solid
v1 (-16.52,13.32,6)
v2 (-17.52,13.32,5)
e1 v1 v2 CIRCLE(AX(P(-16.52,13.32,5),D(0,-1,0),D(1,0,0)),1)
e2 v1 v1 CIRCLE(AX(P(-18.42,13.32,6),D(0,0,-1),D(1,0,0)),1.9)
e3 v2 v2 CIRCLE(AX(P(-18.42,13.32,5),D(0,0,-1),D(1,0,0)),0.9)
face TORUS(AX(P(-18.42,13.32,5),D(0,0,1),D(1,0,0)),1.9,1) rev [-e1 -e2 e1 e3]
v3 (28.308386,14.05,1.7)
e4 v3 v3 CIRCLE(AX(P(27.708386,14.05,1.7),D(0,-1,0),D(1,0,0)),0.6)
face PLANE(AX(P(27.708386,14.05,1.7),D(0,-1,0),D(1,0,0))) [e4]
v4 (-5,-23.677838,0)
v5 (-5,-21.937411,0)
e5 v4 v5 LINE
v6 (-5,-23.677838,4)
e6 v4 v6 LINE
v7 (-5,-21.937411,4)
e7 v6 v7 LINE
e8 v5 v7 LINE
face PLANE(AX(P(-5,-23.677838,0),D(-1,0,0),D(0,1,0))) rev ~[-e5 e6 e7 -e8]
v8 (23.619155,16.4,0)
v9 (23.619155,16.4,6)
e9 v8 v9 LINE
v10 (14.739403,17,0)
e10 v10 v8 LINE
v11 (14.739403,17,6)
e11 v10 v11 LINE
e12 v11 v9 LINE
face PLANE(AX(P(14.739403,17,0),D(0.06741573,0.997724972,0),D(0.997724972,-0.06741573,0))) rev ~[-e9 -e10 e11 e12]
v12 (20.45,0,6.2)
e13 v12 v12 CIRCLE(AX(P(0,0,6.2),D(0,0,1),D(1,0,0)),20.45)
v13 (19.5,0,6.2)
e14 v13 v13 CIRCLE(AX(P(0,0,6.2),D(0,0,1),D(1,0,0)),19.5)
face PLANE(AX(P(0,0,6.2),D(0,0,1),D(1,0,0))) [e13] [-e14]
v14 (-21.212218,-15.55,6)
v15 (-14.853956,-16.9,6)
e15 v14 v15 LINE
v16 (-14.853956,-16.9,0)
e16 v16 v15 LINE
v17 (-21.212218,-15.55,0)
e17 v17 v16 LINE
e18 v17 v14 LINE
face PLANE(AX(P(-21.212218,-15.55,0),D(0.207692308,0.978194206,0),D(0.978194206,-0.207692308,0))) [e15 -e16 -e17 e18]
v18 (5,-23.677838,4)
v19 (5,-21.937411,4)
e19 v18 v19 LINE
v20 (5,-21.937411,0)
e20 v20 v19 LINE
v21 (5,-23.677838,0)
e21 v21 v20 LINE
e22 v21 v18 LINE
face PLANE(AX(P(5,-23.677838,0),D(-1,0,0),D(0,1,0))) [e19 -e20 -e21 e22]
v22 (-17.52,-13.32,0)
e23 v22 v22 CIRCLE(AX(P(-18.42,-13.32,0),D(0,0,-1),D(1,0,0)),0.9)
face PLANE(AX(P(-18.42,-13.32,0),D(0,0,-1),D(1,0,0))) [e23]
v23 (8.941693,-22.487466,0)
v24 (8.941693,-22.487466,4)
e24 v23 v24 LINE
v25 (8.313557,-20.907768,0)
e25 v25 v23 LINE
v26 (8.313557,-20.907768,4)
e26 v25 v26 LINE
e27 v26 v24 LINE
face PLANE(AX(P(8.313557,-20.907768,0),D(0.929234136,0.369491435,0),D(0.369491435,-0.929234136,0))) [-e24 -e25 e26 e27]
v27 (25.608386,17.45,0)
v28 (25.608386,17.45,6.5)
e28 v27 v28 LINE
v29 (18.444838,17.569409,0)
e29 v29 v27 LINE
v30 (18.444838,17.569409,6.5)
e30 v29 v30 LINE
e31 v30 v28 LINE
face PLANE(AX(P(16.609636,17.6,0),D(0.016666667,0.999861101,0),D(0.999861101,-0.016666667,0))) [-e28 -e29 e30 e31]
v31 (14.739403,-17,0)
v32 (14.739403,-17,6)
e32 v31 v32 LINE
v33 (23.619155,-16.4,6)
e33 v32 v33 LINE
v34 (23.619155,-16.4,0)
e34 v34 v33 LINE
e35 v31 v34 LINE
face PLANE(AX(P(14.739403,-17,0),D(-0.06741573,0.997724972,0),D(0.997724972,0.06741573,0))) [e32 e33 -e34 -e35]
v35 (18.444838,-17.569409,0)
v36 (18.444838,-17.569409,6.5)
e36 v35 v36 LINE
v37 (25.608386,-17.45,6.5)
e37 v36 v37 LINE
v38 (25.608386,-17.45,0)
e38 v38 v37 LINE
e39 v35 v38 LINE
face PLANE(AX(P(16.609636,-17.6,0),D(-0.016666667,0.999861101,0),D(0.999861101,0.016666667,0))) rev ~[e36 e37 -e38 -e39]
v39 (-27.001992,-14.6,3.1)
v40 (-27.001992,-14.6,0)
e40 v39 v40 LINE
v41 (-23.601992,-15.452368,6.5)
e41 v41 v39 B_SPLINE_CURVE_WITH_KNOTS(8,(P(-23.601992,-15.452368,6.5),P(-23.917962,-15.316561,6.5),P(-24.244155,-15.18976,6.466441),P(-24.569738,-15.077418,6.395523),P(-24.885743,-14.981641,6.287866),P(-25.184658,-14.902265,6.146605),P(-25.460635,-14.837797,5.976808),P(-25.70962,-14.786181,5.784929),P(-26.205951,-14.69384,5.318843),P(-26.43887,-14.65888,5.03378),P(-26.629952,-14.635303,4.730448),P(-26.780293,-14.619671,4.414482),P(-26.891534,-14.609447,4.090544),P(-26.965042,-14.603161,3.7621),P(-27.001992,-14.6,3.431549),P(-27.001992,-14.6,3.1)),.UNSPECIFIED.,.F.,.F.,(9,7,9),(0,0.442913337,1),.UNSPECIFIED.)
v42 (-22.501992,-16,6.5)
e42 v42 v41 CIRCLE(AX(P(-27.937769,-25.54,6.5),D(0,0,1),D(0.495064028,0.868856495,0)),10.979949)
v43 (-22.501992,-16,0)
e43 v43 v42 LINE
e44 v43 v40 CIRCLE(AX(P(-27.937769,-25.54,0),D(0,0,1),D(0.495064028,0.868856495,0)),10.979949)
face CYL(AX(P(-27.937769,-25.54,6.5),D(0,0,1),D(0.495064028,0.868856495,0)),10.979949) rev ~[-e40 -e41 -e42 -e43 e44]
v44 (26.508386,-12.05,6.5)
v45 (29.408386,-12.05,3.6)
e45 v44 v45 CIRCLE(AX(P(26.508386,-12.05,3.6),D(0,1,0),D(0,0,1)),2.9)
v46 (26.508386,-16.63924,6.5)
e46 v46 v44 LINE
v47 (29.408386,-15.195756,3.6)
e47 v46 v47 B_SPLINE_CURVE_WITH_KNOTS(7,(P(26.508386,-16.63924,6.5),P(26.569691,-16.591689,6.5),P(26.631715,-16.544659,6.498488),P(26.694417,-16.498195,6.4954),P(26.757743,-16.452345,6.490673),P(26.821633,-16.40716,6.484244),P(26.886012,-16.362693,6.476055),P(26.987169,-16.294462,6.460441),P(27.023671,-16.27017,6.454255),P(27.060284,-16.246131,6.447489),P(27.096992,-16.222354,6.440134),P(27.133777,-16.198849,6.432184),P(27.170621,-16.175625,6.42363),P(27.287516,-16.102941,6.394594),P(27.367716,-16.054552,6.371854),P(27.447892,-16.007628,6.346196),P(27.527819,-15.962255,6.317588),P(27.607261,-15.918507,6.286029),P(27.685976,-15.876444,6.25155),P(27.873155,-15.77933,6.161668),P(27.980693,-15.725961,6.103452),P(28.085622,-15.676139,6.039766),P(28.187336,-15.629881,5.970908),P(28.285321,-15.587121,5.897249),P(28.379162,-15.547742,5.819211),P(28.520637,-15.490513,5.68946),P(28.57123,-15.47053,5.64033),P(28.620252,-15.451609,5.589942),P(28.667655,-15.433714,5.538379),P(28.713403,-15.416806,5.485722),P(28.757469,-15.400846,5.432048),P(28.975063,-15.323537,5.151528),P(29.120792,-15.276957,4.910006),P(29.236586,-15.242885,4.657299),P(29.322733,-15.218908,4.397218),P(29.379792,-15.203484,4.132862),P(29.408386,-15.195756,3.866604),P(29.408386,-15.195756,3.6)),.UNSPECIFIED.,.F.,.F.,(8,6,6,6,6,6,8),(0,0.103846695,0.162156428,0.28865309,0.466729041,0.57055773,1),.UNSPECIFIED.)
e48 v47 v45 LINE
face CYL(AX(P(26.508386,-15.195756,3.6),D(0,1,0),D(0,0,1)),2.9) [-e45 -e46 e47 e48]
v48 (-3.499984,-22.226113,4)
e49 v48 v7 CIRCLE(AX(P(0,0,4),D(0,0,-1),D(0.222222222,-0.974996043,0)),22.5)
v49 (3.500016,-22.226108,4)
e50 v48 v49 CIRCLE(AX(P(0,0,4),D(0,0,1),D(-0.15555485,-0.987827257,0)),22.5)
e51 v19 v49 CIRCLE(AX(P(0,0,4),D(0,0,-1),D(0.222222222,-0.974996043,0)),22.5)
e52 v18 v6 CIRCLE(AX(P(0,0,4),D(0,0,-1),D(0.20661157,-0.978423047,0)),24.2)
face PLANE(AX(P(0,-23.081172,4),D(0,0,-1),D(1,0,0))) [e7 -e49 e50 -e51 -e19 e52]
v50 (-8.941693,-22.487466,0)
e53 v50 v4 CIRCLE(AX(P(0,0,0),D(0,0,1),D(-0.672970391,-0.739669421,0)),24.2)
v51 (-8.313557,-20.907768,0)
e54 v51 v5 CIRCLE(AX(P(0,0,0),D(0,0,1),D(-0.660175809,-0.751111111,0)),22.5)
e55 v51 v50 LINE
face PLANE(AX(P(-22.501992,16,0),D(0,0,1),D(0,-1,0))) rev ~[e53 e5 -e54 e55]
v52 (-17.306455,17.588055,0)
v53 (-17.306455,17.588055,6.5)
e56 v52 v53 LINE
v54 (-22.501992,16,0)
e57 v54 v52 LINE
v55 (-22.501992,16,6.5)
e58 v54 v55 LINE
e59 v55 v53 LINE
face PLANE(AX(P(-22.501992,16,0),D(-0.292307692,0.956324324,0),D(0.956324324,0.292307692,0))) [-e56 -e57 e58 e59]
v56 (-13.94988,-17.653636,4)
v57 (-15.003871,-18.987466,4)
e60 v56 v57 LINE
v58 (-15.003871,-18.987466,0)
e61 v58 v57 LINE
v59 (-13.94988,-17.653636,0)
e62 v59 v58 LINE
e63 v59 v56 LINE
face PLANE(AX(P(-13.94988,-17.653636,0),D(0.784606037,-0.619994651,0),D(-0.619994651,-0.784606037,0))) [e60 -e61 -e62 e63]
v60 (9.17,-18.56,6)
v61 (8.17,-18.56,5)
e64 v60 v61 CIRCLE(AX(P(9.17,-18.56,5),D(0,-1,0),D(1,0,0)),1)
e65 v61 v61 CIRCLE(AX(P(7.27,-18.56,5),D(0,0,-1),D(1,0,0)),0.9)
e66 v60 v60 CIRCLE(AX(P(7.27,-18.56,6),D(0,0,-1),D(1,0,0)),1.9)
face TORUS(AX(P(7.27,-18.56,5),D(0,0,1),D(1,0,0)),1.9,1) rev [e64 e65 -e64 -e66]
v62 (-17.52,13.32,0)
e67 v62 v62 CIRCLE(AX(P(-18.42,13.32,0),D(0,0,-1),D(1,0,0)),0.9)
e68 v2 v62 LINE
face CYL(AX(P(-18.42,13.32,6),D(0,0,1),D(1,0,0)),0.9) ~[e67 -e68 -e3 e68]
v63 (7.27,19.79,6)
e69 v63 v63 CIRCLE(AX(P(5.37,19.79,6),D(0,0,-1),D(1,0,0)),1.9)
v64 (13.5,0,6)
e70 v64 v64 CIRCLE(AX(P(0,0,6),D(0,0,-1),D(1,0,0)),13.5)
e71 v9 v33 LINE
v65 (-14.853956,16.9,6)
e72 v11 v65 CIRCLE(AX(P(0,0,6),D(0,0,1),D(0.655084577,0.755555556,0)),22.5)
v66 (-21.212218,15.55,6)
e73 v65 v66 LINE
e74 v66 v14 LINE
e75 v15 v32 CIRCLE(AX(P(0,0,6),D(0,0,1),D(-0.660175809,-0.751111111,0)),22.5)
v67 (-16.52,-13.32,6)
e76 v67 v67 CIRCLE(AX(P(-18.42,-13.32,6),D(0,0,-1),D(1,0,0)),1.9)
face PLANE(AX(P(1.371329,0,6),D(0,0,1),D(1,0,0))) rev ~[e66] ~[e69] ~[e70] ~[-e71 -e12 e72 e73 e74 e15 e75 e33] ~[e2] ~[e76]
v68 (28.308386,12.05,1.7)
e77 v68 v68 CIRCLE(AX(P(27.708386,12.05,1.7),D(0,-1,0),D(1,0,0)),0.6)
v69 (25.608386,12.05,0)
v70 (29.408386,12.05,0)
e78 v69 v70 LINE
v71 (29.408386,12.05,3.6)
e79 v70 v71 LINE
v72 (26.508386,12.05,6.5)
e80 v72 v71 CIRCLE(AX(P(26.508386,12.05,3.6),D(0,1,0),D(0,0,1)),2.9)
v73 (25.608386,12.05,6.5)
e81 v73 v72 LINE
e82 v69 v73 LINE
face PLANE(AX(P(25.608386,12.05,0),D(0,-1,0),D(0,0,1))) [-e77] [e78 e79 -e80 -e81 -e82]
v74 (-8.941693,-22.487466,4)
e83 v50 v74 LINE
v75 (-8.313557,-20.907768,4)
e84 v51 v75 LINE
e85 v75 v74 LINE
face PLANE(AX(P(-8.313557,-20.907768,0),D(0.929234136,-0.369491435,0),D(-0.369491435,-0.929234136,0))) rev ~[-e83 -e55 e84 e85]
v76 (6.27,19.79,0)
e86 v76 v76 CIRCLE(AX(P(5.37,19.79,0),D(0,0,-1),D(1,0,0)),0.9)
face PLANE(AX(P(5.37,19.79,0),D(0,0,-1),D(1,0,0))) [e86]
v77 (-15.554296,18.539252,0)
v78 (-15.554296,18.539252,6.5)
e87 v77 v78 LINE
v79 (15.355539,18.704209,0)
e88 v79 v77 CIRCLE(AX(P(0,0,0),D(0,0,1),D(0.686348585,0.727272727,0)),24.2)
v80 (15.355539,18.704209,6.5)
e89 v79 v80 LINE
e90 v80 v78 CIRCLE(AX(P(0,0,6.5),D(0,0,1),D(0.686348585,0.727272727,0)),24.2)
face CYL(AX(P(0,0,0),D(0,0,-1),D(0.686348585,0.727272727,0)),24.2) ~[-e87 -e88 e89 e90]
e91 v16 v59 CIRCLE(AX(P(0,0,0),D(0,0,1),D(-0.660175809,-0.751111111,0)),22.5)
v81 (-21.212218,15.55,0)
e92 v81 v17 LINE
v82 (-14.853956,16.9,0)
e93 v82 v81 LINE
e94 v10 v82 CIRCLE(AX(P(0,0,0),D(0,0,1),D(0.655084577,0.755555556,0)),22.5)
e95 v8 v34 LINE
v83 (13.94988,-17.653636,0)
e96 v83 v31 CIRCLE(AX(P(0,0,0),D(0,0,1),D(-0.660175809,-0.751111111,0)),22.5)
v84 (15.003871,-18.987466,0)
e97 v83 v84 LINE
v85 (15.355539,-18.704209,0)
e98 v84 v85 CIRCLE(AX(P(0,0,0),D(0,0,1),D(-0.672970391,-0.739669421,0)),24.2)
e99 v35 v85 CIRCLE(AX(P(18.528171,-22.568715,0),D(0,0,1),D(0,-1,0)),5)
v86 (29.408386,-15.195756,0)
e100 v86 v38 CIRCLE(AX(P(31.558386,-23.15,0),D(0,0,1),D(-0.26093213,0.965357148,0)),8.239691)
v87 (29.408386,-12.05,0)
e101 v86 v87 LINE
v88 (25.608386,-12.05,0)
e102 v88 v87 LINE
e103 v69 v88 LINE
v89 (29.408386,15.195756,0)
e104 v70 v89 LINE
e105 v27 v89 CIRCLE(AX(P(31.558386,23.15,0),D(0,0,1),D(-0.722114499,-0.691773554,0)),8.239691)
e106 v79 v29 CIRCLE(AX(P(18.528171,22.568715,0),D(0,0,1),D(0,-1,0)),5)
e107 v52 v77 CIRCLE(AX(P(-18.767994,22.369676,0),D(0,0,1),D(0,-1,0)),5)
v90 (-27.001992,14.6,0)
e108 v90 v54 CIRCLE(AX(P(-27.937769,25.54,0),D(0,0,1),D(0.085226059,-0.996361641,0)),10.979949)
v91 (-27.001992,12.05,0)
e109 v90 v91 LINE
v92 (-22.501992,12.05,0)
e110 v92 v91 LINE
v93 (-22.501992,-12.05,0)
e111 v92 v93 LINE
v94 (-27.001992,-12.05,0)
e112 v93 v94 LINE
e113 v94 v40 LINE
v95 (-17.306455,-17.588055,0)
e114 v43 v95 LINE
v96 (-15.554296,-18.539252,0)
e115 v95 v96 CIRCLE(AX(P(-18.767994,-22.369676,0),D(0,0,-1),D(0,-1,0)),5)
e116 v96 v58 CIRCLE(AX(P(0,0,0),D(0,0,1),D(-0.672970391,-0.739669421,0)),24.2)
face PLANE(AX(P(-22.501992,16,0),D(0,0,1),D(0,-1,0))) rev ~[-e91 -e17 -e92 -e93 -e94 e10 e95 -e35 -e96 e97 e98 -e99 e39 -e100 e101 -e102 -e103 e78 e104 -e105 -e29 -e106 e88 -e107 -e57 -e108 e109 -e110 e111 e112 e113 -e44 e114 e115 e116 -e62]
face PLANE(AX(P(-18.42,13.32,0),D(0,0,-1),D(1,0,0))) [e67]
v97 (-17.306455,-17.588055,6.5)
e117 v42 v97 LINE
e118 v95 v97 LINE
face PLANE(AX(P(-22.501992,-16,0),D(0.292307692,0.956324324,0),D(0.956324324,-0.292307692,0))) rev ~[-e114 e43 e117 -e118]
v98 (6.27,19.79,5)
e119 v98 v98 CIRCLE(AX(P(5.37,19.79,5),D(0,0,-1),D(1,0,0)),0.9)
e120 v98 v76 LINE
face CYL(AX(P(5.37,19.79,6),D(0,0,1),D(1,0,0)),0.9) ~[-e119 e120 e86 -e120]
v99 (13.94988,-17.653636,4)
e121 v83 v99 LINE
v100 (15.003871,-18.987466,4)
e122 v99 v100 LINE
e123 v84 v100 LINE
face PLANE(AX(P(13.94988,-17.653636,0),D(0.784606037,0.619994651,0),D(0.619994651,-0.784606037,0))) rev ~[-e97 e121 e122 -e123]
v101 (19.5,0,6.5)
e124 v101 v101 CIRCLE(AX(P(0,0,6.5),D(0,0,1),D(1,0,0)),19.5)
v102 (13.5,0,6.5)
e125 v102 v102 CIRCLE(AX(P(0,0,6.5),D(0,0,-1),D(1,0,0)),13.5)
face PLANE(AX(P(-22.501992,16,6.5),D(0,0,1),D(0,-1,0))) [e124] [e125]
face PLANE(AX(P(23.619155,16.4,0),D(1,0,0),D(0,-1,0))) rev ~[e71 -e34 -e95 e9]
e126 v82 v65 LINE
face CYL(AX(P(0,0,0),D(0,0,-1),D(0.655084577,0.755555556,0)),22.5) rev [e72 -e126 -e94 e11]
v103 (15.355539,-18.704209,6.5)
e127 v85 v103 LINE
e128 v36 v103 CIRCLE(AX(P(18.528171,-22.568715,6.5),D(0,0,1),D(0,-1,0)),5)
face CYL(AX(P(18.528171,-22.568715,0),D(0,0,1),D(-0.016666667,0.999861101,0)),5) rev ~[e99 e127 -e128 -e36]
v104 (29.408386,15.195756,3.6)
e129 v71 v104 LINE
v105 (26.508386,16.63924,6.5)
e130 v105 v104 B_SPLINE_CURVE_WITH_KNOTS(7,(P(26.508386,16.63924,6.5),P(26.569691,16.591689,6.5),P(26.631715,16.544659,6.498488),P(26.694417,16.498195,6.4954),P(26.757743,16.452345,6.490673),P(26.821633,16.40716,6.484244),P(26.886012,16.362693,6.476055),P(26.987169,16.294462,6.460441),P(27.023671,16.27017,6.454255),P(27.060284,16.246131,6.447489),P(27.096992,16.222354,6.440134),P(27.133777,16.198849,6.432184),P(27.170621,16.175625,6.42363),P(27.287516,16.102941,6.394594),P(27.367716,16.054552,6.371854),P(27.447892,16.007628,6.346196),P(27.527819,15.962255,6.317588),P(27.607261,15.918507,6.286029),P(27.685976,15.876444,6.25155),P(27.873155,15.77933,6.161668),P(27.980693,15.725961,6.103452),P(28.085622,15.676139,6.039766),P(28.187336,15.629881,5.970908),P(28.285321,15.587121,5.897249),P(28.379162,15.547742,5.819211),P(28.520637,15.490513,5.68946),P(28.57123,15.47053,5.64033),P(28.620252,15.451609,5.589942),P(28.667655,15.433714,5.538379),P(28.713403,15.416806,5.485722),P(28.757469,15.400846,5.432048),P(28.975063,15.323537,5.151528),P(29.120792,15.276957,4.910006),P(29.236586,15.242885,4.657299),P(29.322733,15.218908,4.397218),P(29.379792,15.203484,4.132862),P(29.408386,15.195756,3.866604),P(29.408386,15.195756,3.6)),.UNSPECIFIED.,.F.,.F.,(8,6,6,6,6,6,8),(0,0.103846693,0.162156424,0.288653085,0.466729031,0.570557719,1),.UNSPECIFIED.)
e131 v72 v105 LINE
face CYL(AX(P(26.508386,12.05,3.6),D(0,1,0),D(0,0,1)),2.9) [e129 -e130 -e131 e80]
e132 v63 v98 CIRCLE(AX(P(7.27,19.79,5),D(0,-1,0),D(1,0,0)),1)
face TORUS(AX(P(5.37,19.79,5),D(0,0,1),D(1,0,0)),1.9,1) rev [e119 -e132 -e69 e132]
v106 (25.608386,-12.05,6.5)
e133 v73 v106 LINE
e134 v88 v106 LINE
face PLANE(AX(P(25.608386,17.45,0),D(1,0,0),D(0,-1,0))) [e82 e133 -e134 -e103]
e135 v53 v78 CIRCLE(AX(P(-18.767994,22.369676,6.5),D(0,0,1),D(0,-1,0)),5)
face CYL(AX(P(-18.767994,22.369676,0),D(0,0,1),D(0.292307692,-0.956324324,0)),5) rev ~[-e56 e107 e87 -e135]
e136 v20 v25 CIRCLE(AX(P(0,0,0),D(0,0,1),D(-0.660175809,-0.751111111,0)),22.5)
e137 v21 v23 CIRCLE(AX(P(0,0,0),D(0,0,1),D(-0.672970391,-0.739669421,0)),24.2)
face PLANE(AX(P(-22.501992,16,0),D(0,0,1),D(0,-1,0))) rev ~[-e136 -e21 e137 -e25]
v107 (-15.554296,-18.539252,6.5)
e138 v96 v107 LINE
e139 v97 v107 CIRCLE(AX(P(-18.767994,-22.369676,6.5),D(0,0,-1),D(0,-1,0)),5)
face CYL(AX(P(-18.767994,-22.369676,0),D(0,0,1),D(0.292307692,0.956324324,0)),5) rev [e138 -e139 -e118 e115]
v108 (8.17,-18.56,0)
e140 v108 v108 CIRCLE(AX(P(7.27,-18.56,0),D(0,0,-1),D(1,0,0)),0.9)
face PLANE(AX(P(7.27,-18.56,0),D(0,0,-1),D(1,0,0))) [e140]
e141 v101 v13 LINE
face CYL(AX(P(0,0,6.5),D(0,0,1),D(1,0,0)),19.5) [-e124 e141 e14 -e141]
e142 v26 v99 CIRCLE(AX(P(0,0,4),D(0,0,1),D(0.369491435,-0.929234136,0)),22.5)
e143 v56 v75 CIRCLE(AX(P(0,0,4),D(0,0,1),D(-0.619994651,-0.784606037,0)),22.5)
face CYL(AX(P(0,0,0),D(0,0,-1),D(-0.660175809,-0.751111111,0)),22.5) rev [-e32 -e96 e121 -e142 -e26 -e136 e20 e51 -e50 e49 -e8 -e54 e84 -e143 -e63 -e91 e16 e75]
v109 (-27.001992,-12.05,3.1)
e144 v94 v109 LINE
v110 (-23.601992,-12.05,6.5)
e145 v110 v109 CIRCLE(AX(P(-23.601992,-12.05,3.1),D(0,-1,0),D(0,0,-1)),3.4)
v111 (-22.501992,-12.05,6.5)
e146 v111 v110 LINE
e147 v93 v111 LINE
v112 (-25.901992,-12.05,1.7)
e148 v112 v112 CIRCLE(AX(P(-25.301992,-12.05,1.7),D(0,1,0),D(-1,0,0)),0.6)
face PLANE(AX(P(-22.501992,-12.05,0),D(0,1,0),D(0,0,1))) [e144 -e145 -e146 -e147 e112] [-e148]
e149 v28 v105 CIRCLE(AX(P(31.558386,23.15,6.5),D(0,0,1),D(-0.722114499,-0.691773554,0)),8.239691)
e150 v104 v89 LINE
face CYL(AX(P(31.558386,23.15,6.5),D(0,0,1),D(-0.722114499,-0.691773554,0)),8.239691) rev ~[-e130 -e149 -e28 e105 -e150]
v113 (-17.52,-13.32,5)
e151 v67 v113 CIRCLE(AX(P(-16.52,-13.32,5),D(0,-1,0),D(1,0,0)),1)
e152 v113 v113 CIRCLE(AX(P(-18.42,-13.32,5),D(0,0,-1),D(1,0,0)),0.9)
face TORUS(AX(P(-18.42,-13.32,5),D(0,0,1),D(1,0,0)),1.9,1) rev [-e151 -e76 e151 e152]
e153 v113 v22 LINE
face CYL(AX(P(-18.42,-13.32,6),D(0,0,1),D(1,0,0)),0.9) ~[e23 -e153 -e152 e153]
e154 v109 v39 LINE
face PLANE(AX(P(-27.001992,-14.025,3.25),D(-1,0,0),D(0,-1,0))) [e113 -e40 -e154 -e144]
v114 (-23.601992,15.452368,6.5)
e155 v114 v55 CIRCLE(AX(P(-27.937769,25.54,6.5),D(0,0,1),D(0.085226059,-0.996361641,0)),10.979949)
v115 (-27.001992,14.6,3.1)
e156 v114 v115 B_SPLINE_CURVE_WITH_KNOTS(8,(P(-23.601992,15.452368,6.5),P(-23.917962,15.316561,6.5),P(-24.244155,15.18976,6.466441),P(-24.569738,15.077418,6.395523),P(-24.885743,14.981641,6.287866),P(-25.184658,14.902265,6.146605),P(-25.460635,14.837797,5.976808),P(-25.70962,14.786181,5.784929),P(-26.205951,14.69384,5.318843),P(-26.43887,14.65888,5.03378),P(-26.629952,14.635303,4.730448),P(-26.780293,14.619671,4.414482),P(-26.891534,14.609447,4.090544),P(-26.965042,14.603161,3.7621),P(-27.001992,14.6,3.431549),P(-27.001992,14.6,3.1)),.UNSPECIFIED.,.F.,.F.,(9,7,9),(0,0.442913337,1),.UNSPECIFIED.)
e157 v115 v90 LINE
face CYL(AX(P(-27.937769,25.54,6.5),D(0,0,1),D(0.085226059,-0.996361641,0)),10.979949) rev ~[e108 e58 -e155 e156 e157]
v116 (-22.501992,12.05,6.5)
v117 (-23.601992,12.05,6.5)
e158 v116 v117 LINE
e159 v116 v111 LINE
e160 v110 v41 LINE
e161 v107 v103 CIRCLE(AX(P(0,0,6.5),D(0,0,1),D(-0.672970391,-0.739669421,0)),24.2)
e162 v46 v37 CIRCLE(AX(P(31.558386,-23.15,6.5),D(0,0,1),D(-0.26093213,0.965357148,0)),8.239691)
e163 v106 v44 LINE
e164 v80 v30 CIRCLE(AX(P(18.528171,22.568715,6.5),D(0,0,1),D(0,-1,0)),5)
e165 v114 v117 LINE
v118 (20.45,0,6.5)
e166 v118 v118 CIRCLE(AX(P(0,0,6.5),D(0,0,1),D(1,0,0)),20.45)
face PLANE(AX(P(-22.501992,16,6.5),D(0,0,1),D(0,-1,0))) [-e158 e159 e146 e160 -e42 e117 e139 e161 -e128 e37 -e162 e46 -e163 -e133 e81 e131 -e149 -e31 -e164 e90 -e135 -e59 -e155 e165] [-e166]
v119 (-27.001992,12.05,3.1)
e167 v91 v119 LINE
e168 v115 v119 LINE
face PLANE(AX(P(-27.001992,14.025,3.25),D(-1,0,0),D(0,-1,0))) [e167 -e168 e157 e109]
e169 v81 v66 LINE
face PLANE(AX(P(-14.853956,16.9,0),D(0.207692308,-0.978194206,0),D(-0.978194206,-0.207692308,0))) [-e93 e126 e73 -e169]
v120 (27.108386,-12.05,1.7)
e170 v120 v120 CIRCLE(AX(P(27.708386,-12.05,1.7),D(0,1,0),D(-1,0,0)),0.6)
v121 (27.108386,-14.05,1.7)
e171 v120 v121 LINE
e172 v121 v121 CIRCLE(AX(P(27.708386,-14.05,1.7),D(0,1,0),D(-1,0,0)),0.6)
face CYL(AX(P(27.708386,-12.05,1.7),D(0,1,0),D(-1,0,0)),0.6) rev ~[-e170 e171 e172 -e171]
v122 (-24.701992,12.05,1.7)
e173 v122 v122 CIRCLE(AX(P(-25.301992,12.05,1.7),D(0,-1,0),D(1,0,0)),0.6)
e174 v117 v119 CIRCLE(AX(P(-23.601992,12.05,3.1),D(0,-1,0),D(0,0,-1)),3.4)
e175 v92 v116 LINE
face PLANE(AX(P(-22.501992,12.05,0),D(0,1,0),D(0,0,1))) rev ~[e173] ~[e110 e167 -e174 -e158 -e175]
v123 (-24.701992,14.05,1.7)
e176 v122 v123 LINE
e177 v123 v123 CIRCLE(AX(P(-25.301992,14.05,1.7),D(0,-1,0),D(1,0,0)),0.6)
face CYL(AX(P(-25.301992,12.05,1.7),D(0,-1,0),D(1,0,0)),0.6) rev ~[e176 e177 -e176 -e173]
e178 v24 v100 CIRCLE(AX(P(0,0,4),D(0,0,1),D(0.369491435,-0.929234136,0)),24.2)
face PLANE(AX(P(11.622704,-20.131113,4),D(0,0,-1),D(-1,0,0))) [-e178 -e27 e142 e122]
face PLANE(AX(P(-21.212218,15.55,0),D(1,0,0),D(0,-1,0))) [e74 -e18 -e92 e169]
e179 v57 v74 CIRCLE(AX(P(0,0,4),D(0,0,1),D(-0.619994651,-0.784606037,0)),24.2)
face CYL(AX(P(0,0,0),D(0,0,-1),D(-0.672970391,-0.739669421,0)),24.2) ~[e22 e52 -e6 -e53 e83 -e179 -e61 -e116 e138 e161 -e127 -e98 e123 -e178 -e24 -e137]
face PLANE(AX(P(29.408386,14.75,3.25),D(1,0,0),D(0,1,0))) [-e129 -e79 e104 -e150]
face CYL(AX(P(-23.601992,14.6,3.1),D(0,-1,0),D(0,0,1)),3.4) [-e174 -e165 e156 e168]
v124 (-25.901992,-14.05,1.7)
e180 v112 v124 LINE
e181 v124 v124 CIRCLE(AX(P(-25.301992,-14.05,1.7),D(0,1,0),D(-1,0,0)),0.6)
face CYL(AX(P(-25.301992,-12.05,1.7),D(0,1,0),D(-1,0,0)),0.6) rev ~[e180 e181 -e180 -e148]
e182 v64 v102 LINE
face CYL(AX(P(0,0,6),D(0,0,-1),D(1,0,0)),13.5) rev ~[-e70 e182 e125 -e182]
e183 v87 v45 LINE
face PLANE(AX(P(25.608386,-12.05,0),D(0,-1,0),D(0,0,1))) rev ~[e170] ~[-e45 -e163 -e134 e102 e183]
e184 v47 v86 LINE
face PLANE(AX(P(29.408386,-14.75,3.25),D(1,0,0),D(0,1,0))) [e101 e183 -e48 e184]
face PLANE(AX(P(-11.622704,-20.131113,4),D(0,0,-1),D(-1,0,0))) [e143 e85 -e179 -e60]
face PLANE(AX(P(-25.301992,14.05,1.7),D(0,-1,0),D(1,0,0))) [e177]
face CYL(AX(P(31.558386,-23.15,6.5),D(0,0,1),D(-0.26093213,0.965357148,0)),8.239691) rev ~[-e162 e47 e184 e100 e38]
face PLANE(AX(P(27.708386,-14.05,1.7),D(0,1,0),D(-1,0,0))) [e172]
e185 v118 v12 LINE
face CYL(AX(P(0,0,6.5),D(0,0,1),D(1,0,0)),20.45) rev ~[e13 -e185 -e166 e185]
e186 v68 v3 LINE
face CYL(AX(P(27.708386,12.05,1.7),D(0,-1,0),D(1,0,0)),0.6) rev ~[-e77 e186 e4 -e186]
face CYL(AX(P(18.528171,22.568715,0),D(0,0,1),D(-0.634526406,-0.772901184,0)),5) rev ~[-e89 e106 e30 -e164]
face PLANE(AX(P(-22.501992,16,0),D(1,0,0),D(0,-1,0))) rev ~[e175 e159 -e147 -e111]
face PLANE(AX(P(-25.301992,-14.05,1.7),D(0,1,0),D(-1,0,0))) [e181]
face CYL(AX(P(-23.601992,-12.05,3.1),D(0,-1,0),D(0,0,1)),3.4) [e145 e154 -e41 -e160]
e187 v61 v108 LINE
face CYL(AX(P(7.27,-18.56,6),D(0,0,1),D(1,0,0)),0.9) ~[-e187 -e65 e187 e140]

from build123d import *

# Parameters (mm, degrees)
PAD_DEPTH       = 6.5
POCKET_DEPTH    = 6
SKETCH002_R     = 13.5
POCKET001_DEPTH = 1
SKETCH003_W     = 5.4
SKETCH003_H     = 6.5
PAD001_DEPTH    = 3.8
POCKET002_DEPTH = 10
SKETCH008_R     = 0.6
POCKET003_DEPTH = 2
SKETCH009_R     = 0.6
POCKET004_DEPTH = 2
FILLET_R        = 2.9
FILLET001_R     = 2.9
FILLET002_R     = 5
FILLET003_R     = 5
FILLET004_R     = 5
FILLET005_R     = 5
SKETCH010_W     = 3.95
SKETCH010_H     = 6.5
PAD002_DEPTH    = 4.5
POCKET005_DEPTH = 10
SKETCH012_R     = 0.6
POCKET006_DEPTH = 2
SKETCH013_R     = 0.6
POCKET007_DEPTH = 2
FILLET006_R     = 3.4
FILLET007_R     = 3.4
SKETCH014_R     = 20.45
SKETCH014_R_2   = 19.5
POCKET008_DEPTH = 0.3
SKETCH015_R     = 0.9
PAD003_DEPTH    = 6
FILLET008_R     = 1
POCKET009_DEPTH = 4
POCKET010_DEPTH = 4


with BuildPart() as part:
    # Sketch → Pad (new body)
    with BuildSketch(Plane.XY):
        with BuildLine():
            Line((-22.5019915649, 16), (-22.5019915649, -16))
            Line((-22.5019915649, -16), (-16.2858834578, -17.9))
            ThreePointArc((-16.2858834578, -17.9), (0.2206895736, -24.1989937004), (16.6096357576, -17.6))
            Line((16.6096357576, -17.6), (25.6083856708, -17.45))
            Line((25.6083856708, 17.45), (25.6083856708, -17.45))
            Line((16.6096357576, 17.6), (25.6083856708, 17.45))
            ThreePointArc((16.6096357576, 17.6), (0.2206895736, 24.1989937004), (-16.2858834578, 17.9))
            Line((-22.5019915649, 16), (-16.2858834578, 17.9))
        make_face()
    extrude(amount=PAD_DEPTH)

    # Sketch001 → Pocket (cut)
    with BuildSketch(Plane.XY):
        with BuildLine():
            Line((-14.8539557021, 16.9), (-21.2122180433, 15.55))
            Line((-21.2122180433, 15.55), (-21.2122180433, -15.55))
            Line((-21.2122180433, -15.55), (-14.8539557021, -16.9))
            ThreePointArc((-14.8539557021, -16.9), (-0.0760301383, -22.4998715423), (14.739402973, -17))
            Line((14.739402973, -17), (23.6191552218, -16.4))
            Line((23.6191552218, 16.4), (23.6191552218, -16.4))
            Line((14.739402973, 17), (23.6191552218, 16.4))
            ThreePointArc((14.739402973, 17), (-0.0760301383, 22.4998715423), (-14.8539557021, 16.9))
        make_face()
    extrude(amount=POCKET_DEPTH, mode=Mode.SUBTRACT)

    # Sketch002 (on Face19 of Pocket) → Pocket001 (cut)
    with BuildSketch(Plane(origin=(0, 0, 6), x_dir=(1, 0, 0), z_dir=(0, 0, -1))):
        Circle(SKETCH002_R)
    extrude(amount=-POCKET001_DEPTH, mode=Mode.SUBTRACT)

    # Sketch003 (on Face6 of Pocket001) → Pad001 (join)
    with BuildSketch(Plane.YZ.offset(25.6083856708)):
        with Locations((-14.75, 3.25)):
            Rectangle(SKETCH003_W, SKETCH003_H)
        with Locations((14.75, 3.25)):
            Rectangle(SKETCH003_W, SKETCH003_H)
    extrude(amount=PAD001_DEPTH)

    # Sketch006 → Pocket002 (cut)
    with BuildSketch(Plane.XY.offset(6.5)):
        with BuildLine():
            ThreePointArc((25.6083856708, 17.45), (27.3544703324, 16.0634214301), (29.4083856708, 15.1957558499))
            Line((29.4083856708, 17.45), (29.4083856708, 15.1957558499))
            Line((29.4083856708, 17.45), (25.6083856708, 17.45))
        make_face()
        with BuildLine():
            ThreePointArc((29.4083856708, -15.1957558499), (27.3544703324, -16.0634214301), (25.6083856708, -17.45))
            Line((29.4083856708, -17.45), (25.6083856708, -17.45))
            Line((29.4083856708, -15.1957558499), (29.4083856708, -17.45))
        make_face()
    extrude(amount=-POCKET002_DEPTH, mode=Mode.SUBTRACT)

    # Sketch008 (on Face27 of Pocket002) → Pocket003 (cut)
    with BuildSketch(Plane(origin=(0, -12.05, 0), x_dir=(-1, 0, 0), z_dir=(0, 1, 0))):
        with Locations((-27.7083856708, 1.7)):
            Circle(SKETCH008_R)
    extrude(amount=-POCKET003_DEPTH, mode=Mode.SUBTRACT)

    # Sketch009 (on Face26 of Pocket003) → Pocket004 (cut)
    with BuildSketch(Plane.XZ.offset(-12.05)):
        with Locations((27.7083856708, 1.7)):
            Circle(SKETCH009_R)
    extrude(amount=-POCKET004_DEPTH, mode=Mode.SUBTRACT)

    # Fillet
    fillet_edges = [part.edges().sort_by_distance(p)[0] for p in [
        (29.408386, -13.622878, 6.5),
    ]]
    fillet(fillet_edges, radius=FILLET_R)

    # Fillet001
    fillet001_edges = [part.edges().sort_by_distance(p)[0] for p in [
        (29.408386, 13.622878, 6.5),
    ]]
    fillet(fillet001_edges, radius=FILLET001_R)

    # Fillet002
    fillet002_edges = [part.edges().sort_by_distance(p)[0] for p in [
        (16.609636, -17.6, 3.25),
    ]]
    fillet(fillet002_edges, radius=FILLET002_R)

    # Fillet003
    fillet003_edges = [part.edges().sort_by_distance(p)[0] for p in [
        (16.609636, 17.6, 3.25),
    ]]
    fillet(fillet003_edges, radius=FILLET003_R)

    # Fillet004
    fillet004_edges = [part.edges().sort_by_distance(p)[0] for p in [
        (-16.285883, -17.9, 3.25),
    ]]
    fillet(fillet004_edges, radius=FILLET004_R)

    # Fillet005
    fillet005_edges = [part.edges().sort_by_distance(p)[0] for p in [
        (-16.285883, 17.9, 3.25),
    ]]
    fillet(fillet005_edges, radius=FILLET005_R)

    # Sketch010 (on Face4 of Fillet005) → Pad002 (join)
    with BuildSketch(Plane(origin=(-22.5019915649, 0, 0), x_dir=(0, -1, 0), z_dir=(-1, 0, 0))):
        with Locations((-14.025, 3.25)):
            Rectangle(SKETCH010_W, SKETCH010_H)
        with Locations((14.025, 3.25)):
            Rectangle(SKETCH010_W, SKETCH010_H)
    extrude(amount=PAD002_DEPTH)

    # Sketch011 (on Face6 of Pad002) → Pocket005 (cut)
    with BuildSketch(Plane.XY.offset(6.5)):
        with BuildLine():
            ThreePointArc((-27.0019915649, 14.6), (-24.6759937451, 15.0557212933), (-22.5019915649, 16))
            Line((-22.5019915649, 16), (-27.0019915649, 16))
            Line((-27.0019915649, 16), (-27.0019915649, 14.6))
        make_face()
        with BuildLine():
            ThreePointArc((-22.5019915649, -16), (-24.6759937451, -15.0557212933), (-27.0019915649, -14.6))
            Line((-27.0019915649, -14.6), (-27.0019915649, -16))
            Line((-27.0019915649, -16), (-22.5019915649, -16))
        make_face()
    extrude(amount=-POCKET005_DEPTH, mode=Mode.SUBTRACT)

    # Sketch012 (on Face23 of Pocket005) → Pocket006 (cut)
    with BuildSketch(Plane(origin=(0, -12.05, 0), x_dir=(-1, 0, 0), z_dir=(0, 1, 0))):
        with Locations((25.3019915649, 1.7)):
            Circle(SKETCH012_R)
    extrude(amount=-POCKET006_DEPTH, mode=Mode.SUBTRACT)

    # Sketch013 (on Face21 of Pocket006) → Pocket007 (cut)
    with BuildSketch(Plane.XZ.offset(-12.05)):
        with Locations((-25.3019915649, 1.7)):
            Circle(SKETCH013_R)
    extrude(amount=-POCKET007_DEPTH, mode=Mode.SUBTRACT)

    # Fillet006
    fillet006_edges = [part.edges().sort_by_distance(p)[0] for p in [
        (-27.001992, 13.325, 6.5),
    ]]
    fillet(fillet006_edges, radius=FILLET006_R)

    # Fillet007
    fillet007_edges = [part.edges().sort_by_distance(p)[0] for p in [
        (-27.001992, -13.325, 6.5),
    ]]
    fillet(fillet007_edges, radius=FILLET007_R)

    # Sketch014 (on Face4 of Fillet007) → Pocket008 (cut)
    with BuildSketch(Plane.XY.offset(6.5)):
        Circle(SKETCH014_R)
        Circle(SKETCH014_R_2, mode=Mode.SUBTRACT)
    extrude(amount=-POCKET008_DEPTH, mode=Mode.SUBTRACT)

    # Sketch015 (on Face55 of Pocket008) → Pad003 (join)
    with BuildSketch(Plane(origin=(0, 0, 6), x_dir=(1, 0, 0), z_dir=(0, 0, -1))):
        with Locations((-18.42, 13.32)):
            Circle(SKETCH015_R)
        with Locations((-18.42, -13.32)):
            Circle(SKETCH015_R)
        with Locations((7.27, 18.56)):
            Circle(SKETCH015_R)
        with Locations((5.37, -19.79)):
            Circle(SKETCH015_R)
    extrude(amount=PAD003_DEPTH)

    # Fillet008
    fillet008_edges = [part.edges().sort_by_distance(p)[0] for p in [
        (-19.32, -13.32, 6),
        (6.37, -18.56, 6),
        (-19.32, 13.32, 6),
        (4.47, 19.79, 6),
    ]]
    fillet(fillet008_edges, radius=FILLET008_R)

    # Sketch016 (on Face16 of Fillet008) → Pocket009 (cut)
    with BuildSketch(Plane(origin=(0, 0, 0), x_dir=(1, 0, 0), z_dir=(0, 0, -1))):
        with BuildLine():
            Line((-5, 23.6778377391), (-5, 21.9374109685))
            ThreePointArc((5, 21.9374109685), (0, 22.5), (-5, 21.9374109685))
            Line((5, 23.6778377391), (5, 21.9374109685))
            ThreePointArc((5, 23.6778377391), (0, 24.2), (-5, 23.6778377391))
        make_face()
    extrude(amount=-POCKET009_DEPTH, mode=Mode.SUBTRACT)

    # Sketch017 → Pocket010 (cut)
    with BuildSketch(Plane.XY):
        with BuildLine():
            Line((-3.499984119, -22.2261132717), (-3.5, -23.9455632634))
            ThreePointArc((-3.5, -23.9455632634), (0, -24.2000019575), (3.5, -23.9455632634))
            Line((3.5000158811, -22.2261082701), (3.5, -23.9455632634))
            ThreePointArc((-3.499984119, -22.2261132717), (1.60767e-05, -22.5), (3.5000158811, -22.2261082701))
        make_face()
        with BuildLine():
            ThreePointArc((-13.9498796389, -17.6536358312), (-11.25, -19.4855715851), (-8.3135572795, -20.9077680626))
            Line((-8.3135572795, -20.9077680626), (-8.9416927184, -22.487466094))
            ThreePointArc((-15.0038705449, -18.987466094), (-12.1, -20.9578147716), (-8.9416927184, -22.487466094))
            Line((-13.9498796389, -17.6536358312), (-15.0038705449, -18.987466094))
        make_face()
        with BuildLine():
            ThreePointArc((8.3135572795, -20.9077680626), (11.25, -19.4855715851), (13.9498796389, -17.6536358312))
            Line((13.9498796389, -17.6536358312), (15.0038705449, -18.987466094))
            ThreePointArc((8.9416927184, -22.487466094), (12.1, -20.9578147716), (15.0038705449, -18.987466094))
            Line((8.3135572795, -20.9077680626), (8.9416927184, -22.487466094))
        make_face()
    extrude(amount=POCKET010_DEPTH, mode=Mode.SUBTRACT)


solid = part.part
